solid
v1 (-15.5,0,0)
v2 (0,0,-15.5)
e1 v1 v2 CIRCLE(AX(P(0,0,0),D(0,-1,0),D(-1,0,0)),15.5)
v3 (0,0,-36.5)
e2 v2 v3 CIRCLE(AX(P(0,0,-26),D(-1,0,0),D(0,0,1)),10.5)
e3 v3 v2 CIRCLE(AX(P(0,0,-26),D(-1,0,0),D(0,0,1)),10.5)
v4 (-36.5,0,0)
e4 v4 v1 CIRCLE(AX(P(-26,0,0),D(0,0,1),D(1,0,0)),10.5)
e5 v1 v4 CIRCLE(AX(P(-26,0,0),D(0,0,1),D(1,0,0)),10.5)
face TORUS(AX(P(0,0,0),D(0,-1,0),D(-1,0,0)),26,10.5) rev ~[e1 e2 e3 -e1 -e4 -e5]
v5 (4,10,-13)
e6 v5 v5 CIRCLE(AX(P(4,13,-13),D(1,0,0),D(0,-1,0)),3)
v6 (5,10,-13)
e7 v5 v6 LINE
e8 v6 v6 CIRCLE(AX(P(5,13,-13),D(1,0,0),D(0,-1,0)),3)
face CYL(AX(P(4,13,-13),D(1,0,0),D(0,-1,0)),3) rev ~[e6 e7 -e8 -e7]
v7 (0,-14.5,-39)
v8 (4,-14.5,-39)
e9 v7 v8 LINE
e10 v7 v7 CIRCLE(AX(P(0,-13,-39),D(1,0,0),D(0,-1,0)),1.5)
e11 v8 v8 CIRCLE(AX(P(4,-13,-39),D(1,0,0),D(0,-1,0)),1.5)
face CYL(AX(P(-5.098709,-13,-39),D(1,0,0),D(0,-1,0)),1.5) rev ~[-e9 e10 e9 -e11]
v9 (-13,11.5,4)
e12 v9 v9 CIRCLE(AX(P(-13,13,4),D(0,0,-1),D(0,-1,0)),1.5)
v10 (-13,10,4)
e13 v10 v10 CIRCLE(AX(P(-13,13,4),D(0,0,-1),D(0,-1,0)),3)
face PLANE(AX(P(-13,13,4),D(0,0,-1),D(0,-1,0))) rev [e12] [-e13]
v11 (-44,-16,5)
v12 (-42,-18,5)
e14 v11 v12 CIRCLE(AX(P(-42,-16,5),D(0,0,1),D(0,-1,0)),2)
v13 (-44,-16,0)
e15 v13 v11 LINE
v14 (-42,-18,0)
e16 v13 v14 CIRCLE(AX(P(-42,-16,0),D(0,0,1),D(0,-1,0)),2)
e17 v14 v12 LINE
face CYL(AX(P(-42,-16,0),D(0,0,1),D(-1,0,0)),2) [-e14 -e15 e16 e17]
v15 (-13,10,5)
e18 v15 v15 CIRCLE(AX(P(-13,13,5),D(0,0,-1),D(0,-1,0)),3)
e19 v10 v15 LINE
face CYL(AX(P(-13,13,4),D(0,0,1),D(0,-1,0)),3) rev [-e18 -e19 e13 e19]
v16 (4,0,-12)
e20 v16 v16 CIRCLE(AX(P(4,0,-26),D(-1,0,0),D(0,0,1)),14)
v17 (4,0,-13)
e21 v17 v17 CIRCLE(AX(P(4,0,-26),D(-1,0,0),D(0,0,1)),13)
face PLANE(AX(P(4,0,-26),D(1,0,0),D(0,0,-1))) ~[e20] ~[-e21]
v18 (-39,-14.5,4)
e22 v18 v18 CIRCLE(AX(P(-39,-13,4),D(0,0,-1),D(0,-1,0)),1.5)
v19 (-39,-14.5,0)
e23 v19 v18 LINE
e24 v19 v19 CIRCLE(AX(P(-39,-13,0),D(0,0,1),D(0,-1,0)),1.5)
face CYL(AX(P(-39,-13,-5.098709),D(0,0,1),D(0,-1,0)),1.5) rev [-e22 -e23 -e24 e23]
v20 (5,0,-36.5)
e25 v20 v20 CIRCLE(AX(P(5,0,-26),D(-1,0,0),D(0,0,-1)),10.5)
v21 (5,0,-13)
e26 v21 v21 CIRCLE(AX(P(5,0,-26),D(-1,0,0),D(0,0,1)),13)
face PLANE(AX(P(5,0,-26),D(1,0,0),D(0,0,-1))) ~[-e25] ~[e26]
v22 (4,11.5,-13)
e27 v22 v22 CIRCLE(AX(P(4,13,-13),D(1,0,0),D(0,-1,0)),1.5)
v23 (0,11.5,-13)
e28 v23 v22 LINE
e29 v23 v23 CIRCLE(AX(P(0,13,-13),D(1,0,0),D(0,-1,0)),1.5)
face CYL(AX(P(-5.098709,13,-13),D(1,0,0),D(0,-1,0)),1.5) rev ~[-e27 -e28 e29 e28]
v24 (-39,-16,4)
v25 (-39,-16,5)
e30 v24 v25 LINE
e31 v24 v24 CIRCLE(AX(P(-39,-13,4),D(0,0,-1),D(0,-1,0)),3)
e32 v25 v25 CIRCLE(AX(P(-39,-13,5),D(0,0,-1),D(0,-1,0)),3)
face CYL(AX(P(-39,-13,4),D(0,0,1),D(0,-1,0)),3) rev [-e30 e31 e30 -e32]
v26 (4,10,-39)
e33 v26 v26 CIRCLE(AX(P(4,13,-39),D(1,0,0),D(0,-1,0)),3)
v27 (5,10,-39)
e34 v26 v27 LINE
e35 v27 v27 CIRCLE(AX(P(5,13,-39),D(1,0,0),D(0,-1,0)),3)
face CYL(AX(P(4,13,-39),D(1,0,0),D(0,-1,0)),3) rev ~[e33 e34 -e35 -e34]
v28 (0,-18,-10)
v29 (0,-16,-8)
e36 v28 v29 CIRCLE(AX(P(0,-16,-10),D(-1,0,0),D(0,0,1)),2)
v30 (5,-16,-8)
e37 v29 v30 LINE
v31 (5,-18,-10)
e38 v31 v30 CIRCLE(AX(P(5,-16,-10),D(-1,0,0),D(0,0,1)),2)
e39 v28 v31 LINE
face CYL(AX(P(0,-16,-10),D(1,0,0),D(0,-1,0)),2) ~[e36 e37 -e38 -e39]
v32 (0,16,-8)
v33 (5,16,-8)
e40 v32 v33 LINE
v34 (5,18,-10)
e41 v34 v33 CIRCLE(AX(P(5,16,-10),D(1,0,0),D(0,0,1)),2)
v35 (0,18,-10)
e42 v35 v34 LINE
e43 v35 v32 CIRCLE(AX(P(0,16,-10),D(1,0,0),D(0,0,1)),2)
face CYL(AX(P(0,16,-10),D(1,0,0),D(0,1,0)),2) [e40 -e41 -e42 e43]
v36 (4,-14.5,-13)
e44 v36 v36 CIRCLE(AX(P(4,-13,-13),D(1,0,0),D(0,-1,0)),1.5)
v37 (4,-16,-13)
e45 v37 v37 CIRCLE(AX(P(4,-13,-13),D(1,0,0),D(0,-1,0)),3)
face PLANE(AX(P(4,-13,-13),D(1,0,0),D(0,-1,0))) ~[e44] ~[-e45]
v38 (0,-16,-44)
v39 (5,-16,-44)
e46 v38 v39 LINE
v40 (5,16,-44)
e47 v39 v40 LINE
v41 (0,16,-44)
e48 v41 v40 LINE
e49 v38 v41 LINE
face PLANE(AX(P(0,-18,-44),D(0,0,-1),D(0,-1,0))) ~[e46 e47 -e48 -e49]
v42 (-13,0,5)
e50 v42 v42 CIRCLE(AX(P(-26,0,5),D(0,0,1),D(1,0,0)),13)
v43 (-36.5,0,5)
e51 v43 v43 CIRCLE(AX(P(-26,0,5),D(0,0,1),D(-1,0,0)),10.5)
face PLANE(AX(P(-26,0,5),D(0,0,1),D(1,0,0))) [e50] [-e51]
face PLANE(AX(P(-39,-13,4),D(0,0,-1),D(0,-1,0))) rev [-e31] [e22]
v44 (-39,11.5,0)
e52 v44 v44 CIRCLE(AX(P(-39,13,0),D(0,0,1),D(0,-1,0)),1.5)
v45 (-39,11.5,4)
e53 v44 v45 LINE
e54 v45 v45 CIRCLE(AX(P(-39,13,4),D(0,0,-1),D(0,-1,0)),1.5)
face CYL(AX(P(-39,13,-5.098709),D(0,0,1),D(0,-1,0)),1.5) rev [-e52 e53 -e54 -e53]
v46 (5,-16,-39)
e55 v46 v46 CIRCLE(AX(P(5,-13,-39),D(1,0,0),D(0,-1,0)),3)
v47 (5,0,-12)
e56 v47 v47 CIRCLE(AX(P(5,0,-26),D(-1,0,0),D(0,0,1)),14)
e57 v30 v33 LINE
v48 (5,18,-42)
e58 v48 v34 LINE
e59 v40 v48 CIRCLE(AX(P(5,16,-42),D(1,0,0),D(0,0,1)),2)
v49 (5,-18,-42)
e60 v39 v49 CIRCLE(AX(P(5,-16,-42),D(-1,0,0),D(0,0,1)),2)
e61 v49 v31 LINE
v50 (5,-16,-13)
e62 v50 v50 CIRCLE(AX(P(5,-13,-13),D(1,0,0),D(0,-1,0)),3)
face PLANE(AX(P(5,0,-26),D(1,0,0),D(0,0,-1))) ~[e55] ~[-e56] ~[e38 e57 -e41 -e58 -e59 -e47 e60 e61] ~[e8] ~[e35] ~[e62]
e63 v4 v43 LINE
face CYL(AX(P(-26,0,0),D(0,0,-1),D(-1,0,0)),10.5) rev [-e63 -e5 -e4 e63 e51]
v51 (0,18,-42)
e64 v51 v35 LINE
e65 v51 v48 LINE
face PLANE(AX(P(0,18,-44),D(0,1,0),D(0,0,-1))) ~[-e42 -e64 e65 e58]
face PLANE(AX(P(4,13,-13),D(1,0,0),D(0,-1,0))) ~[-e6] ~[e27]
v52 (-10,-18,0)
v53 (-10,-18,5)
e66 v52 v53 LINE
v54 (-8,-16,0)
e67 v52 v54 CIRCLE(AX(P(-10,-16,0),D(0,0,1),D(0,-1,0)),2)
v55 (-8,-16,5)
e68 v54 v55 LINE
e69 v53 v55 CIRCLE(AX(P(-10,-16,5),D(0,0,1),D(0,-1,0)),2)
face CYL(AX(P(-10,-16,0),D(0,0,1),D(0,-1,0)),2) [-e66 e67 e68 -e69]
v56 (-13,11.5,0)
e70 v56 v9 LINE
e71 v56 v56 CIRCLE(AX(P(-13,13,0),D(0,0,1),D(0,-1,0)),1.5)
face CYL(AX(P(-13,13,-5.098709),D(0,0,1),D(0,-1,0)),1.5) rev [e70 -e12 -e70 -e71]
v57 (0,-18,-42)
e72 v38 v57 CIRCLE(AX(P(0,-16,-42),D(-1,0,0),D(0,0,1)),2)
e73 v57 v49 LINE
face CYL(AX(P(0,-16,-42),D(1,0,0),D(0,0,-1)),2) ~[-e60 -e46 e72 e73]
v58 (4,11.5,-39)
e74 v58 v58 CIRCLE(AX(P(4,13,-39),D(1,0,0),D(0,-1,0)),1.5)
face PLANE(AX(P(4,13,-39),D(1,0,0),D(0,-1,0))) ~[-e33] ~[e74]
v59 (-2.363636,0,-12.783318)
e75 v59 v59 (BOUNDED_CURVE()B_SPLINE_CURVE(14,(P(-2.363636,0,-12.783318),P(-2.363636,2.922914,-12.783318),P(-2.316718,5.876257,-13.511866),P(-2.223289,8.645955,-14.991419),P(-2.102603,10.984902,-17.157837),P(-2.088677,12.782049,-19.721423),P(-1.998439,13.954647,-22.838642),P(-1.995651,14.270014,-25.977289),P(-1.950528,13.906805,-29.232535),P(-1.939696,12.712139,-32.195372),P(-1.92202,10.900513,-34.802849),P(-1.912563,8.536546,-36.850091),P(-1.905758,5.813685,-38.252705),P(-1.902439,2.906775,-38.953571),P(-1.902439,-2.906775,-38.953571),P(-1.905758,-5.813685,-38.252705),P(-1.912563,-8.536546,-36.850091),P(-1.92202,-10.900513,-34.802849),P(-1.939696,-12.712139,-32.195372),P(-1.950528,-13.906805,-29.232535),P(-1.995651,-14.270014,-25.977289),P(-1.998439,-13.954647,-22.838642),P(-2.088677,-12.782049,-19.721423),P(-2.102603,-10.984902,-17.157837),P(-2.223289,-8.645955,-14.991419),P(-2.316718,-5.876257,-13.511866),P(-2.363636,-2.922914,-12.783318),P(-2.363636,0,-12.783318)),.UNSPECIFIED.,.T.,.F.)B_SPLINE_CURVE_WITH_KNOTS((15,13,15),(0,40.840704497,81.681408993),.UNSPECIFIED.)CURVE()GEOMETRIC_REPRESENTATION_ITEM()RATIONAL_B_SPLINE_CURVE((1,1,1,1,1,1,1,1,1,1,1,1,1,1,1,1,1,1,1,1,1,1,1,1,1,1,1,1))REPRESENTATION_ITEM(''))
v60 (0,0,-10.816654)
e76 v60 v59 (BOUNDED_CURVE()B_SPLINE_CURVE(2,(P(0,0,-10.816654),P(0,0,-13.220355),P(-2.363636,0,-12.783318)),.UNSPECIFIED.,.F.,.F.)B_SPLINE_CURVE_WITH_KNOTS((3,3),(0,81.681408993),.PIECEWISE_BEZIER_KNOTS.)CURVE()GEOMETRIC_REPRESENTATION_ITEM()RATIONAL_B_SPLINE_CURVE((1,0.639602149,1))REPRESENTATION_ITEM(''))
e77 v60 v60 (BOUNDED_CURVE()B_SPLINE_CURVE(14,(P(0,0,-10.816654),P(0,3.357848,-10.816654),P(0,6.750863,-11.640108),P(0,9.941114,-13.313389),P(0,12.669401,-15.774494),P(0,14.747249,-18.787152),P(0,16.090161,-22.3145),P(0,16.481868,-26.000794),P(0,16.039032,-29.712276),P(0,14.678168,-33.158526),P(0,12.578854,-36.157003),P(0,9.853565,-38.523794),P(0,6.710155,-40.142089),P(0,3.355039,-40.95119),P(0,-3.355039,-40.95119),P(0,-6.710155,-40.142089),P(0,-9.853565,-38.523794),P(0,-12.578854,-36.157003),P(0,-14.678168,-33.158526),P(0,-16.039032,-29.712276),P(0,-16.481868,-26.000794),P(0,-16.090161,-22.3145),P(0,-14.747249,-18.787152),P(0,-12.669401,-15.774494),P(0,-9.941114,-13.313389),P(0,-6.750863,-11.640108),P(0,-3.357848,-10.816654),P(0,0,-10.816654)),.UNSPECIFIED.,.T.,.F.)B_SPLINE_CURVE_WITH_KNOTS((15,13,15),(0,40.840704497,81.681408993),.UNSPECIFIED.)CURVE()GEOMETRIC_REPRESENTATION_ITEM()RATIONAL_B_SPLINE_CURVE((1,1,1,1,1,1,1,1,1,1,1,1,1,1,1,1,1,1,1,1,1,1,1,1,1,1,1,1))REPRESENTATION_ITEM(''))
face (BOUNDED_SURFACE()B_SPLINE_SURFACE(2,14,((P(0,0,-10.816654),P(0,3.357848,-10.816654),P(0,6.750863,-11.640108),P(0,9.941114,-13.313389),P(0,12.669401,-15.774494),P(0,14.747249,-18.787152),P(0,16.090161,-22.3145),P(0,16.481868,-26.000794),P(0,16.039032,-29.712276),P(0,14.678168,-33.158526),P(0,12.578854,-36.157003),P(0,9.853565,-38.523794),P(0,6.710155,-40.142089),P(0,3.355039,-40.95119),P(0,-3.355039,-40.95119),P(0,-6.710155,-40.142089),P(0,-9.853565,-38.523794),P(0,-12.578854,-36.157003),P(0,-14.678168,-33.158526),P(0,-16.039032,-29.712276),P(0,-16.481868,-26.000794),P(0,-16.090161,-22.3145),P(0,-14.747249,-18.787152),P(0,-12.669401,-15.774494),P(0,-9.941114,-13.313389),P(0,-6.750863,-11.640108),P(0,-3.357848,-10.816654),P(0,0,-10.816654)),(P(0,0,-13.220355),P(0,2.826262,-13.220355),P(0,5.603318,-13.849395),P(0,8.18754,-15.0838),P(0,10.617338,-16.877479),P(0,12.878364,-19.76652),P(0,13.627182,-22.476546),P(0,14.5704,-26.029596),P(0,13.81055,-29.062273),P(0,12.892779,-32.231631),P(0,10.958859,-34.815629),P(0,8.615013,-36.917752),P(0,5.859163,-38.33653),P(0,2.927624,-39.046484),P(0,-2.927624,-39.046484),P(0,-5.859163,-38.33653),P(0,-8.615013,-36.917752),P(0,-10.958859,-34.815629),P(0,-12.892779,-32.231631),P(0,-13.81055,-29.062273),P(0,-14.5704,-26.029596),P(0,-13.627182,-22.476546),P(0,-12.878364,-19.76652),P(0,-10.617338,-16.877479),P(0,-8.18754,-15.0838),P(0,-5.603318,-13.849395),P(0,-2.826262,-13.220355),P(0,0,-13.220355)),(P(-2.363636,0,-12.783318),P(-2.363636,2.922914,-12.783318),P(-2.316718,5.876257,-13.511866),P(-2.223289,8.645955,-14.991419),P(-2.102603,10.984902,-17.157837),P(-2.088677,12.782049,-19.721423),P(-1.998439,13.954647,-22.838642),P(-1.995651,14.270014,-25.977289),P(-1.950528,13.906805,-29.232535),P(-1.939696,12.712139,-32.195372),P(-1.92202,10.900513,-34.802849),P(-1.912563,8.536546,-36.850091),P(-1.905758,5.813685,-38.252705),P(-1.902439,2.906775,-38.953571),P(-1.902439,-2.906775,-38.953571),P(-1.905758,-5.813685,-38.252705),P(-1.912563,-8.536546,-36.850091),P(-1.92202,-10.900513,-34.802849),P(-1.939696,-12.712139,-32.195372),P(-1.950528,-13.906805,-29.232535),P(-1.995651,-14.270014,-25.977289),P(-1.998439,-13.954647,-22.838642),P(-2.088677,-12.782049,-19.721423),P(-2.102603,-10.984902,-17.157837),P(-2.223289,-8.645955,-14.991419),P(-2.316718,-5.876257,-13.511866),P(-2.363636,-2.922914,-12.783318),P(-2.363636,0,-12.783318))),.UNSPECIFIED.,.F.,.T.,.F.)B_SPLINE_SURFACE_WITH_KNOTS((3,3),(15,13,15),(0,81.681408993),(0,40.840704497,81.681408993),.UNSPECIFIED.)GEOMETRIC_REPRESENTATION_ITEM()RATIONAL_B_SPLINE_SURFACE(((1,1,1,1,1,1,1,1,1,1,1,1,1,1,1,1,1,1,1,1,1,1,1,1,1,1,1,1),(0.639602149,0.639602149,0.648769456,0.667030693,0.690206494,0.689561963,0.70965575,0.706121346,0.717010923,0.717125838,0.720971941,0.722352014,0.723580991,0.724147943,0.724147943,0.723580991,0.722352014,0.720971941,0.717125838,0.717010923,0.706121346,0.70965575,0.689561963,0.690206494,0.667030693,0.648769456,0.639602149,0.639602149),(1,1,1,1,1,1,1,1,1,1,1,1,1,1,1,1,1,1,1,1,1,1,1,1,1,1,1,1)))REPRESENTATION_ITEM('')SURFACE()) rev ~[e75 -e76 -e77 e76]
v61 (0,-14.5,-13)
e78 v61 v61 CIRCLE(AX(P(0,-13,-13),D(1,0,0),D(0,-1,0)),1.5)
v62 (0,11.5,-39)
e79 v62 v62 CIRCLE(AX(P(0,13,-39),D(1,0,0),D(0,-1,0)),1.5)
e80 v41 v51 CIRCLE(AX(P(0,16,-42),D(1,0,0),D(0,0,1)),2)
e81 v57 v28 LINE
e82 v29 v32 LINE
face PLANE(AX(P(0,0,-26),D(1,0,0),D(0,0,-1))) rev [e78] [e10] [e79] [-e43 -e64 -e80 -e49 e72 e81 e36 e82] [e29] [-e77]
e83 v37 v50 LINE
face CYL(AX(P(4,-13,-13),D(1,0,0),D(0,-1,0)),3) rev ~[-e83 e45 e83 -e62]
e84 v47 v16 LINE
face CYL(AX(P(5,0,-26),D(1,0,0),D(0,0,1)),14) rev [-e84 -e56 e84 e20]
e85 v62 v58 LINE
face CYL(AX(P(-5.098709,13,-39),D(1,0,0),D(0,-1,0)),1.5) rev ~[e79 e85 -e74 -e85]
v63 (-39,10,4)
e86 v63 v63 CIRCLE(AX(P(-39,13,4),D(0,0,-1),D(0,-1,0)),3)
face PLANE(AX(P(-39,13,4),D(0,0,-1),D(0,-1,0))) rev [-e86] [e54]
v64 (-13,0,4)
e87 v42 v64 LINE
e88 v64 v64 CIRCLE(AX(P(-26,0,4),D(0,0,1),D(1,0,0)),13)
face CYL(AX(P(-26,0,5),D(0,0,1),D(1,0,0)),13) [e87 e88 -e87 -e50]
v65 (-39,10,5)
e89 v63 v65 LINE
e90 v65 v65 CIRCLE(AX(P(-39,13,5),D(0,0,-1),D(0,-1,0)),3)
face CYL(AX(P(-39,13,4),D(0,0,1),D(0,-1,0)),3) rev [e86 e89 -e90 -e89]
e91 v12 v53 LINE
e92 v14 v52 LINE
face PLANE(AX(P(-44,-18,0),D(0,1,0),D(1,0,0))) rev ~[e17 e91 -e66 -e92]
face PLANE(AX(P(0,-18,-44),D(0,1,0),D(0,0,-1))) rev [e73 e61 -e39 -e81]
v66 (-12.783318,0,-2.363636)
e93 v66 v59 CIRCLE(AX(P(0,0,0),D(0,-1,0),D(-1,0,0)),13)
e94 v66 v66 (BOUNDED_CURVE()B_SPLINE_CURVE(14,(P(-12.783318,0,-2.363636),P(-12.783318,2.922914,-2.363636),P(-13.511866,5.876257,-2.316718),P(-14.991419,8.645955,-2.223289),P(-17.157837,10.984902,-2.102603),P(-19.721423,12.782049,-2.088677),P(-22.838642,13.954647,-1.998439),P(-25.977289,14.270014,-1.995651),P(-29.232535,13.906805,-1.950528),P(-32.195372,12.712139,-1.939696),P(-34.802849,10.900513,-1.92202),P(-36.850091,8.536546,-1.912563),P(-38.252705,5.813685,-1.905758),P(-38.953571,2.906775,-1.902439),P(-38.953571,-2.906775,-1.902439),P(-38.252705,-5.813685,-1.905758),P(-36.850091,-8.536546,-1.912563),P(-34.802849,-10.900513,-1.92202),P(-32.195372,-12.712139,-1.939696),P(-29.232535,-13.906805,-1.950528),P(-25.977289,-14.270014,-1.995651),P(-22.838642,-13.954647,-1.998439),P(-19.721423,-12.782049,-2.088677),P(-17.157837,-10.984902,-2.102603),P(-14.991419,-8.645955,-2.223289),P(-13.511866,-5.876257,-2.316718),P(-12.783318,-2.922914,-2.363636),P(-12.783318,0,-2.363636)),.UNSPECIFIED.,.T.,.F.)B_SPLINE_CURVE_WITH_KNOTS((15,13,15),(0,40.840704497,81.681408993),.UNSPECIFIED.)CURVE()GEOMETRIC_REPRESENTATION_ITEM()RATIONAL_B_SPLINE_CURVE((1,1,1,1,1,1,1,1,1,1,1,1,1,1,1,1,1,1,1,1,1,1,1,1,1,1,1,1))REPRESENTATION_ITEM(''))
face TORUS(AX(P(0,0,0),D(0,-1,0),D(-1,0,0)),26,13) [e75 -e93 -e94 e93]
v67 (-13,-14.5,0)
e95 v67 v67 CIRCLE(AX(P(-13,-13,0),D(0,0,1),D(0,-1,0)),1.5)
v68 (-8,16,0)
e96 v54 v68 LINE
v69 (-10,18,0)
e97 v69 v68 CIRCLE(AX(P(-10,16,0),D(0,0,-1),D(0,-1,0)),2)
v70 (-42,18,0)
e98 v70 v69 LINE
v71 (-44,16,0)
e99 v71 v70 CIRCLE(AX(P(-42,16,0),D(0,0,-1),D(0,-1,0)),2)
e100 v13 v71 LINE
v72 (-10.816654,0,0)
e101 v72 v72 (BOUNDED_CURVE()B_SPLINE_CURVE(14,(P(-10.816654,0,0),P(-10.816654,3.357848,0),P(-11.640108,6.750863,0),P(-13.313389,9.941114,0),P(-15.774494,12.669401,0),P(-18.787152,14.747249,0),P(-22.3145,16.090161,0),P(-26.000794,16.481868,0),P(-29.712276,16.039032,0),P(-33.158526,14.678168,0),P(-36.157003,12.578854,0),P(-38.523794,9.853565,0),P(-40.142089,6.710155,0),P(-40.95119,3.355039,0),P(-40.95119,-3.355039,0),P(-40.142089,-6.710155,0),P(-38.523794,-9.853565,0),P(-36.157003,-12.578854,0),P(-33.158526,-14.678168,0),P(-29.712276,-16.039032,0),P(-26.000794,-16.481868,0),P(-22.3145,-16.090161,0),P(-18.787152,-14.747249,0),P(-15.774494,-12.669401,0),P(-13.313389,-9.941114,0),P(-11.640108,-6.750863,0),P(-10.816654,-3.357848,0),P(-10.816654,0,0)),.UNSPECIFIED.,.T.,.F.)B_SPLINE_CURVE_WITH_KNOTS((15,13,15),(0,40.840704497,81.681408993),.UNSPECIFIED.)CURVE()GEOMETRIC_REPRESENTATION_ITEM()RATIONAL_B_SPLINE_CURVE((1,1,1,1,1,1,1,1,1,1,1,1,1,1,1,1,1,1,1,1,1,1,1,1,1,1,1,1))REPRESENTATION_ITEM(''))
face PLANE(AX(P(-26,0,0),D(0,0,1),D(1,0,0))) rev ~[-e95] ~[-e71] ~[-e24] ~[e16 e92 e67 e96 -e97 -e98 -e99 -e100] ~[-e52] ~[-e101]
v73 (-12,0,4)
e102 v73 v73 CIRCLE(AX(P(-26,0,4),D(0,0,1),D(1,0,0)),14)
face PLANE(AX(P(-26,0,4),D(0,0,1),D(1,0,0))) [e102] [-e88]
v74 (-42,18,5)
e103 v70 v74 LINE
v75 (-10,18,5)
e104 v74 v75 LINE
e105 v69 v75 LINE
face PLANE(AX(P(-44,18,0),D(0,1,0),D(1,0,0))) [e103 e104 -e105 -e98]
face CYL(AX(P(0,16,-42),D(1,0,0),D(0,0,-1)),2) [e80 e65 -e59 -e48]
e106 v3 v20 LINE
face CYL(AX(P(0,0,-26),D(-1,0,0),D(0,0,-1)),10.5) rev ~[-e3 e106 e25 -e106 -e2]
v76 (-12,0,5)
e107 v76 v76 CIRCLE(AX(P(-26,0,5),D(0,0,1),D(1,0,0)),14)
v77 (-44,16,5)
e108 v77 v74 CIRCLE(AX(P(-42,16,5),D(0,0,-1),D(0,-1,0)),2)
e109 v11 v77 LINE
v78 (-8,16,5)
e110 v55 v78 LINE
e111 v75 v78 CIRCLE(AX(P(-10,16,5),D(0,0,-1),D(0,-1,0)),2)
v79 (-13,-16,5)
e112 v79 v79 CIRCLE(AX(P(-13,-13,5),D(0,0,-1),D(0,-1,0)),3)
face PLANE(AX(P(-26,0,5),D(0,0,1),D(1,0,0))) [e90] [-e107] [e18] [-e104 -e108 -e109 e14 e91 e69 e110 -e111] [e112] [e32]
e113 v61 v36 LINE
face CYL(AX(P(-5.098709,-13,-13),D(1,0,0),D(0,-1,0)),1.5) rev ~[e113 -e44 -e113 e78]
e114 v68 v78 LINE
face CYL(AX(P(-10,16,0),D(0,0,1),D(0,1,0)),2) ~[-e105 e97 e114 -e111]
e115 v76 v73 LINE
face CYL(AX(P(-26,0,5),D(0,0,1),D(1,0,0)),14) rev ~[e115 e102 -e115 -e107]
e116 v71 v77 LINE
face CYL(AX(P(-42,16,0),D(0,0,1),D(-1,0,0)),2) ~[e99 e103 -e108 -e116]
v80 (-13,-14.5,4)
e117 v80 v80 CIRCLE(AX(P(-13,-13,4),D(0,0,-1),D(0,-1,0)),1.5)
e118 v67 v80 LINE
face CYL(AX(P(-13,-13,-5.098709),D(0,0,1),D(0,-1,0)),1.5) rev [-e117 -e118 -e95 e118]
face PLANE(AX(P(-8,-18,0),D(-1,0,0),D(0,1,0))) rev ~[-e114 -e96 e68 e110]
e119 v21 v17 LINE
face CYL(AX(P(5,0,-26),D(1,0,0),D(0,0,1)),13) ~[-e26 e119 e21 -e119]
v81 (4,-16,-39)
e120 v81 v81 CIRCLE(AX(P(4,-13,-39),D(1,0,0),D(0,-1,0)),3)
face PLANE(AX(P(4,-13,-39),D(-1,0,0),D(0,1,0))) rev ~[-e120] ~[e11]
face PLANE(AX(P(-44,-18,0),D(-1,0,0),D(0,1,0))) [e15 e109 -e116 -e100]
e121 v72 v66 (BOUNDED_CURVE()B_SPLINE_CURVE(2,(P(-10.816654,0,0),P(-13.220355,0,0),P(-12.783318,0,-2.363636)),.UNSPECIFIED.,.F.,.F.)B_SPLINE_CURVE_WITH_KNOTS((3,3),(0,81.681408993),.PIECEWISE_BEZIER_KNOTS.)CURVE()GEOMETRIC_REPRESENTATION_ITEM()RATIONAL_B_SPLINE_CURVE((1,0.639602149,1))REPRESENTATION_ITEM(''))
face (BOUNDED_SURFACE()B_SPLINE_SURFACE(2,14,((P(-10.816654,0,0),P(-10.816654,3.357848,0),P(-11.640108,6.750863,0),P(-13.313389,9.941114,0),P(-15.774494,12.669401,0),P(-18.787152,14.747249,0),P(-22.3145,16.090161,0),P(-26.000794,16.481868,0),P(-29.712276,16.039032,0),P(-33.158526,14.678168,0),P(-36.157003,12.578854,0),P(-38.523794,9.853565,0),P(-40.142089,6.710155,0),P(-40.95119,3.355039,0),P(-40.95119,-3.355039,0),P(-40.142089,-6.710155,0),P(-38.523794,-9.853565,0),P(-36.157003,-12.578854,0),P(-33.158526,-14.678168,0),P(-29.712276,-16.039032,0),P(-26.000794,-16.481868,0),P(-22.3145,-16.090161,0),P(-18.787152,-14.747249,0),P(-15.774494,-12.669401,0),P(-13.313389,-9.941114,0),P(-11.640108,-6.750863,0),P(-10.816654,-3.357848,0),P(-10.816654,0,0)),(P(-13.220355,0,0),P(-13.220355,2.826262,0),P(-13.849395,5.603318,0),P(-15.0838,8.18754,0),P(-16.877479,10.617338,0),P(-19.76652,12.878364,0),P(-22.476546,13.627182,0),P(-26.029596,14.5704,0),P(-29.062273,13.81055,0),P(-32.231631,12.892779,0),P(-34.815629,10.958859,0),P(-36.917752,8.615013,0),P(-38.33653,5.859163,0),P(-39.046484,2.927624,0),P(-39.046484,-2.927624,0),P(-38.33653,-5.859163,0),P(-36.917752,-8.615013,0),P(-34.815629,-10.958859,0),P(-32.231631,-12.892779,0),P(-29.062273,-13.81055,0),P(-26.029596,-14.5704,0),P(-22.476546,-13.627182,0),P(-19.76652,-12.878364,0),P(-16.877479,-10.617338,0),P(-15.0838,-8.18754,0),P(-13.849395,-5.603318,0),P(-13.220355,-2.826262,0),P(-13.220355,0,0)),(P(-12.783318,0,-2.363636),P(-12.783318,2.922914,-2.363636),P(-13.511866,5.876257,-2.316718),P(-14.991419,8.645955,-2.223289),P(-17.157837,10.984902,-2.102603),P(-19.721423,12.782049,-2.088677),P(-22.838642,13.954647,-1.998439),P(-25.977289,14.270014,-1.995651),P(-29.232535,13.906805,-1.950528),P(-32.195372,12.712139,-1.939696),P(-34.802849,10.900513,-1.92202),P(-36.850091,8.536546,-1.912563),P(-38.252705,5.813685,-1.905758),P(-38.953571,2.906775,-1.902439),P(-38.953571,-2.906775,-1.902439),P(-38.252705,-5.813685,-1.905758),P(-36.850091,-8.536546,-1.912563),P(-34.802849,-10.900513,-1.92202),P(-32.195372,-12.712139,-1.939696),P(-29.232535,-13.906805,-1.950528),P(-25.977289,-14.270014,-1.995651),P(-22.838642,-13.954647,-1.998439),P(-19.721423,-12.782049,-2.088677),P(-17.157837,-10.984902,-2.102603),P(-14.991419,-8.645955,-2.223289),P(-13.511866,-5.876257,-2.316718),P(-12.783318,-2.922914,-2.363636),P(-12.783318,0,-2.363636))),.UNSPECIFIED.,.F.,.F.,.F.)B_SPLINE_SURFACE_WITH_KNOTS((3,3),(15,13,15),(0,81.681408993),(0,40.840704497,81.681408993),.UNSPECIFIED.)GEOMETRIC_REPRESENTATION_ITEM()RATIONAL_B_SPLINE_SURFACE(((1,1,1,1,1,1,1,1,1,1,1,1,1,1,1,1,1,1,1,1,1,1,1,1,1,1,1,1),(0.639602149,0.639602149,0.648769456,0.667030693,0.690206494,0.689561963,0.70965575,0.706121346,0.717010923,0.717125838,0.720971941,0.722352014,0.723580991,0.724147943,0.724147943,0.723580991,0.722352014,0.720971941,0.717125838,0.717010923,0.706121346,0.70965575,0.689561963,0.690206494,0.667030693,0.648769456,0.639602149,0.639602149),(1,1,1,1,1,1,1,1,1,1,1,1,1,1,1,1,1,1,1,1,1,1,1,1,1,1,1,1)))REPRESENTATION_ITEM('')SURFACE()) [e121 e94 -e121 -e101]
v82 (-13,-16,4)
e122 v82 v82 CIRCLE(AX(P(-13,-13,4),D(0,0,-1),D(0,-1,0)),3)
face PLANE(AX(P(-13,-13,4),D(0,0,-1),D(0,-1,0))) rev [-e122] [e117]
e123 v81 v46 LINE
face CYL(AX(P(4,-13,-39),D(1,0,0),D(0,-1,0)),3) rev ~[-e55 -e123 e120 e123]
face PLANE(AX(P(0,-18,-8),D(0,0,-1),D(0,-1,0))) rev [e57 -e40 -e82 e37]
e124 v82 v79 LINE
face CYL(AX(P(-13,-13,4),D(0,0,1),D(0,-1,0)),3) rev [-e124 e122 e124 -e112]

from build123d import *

# Parameters (mm, degrees)
SKETCH3_R                              = 13
SKETCH3_R_2                            = 10.5
REVOLVE2_ANGLE                         = 90
SKETCH5_W                              = 36
SKETCH5_H                              = 36
SKETCH5_R                              = 10.5
BOSS_EXTRUDE3_DEPTH                    = 5
SKETCH6_R                              = 14
SKETCH6_R_2                            = 13
CUT_EXTRUDE1_DEPTH                     = 1
FILLET1_R                              = 2
FILLET2_R                              = 2
CBORE_FOR_M5_HEX_HEAD_BOLT1_AT_2_COUNT = 2
CBORE_FOR_M5_HEX_HEAD_BOLT1_AT_2_PITCH = 26
CBORE_FOR_M5_HEX_HEAD_BOLT1_AT_3_COUNT = 2
CBORE_FOR_M5_HEX_HEAD_BOLT1_AT_3_PITCH = 36.769552622
CBORE_FOR_M5_HEX_HEAD_BOLT1_AT_4_COUNT = 2
CBORE_FOR_M5_HEX_HEAD_BOLT1_AT_4_PITCH = 26
FILLET1_OF_MIRROR1_R                   = 2
FILLET2_OF_MIRROR1_R                   = 2


with BuildPart() as part:
    # Sketch3 → Revolve2 (revolve)
    with BuildSketch(Plane.XY):
        with Locations((-26, 0)):
            Circle(SKETCH3_R)
        with Locations((-26, 0)):
            Circle(SKETCH3_R_2, mode=Mode.SUBTRACT)
    revolve(axis=Axis((0, 20.536946156, 0), (0, -1, 0)), revolution_arc=REVOLVE2_ANGLE)

    # Sketch5 → Boss-Extrude3 (add)
    with BuildSketch(Plane.XY):
        with Locations((-26, 0)):
            Rectangle(SKETCH5_W, SKETCH5_H)
        with Locations(Location((-26, 0, 0), (0, 0, 180))):
            Circle(SKETCH5_R, mode=Mode.SUBTRACT)
    boss_extrude3 = extrude(amount=BOSS_EXTRUDE3_DEPTH)

    # Sketch6 → Cut-Extrude1 (cut)
    with BuildSketch(Plane.XY.offset(5)):
        with Locations((-26, 0)):
            Circle(SKETCH6_R)
        with Locations((-26, 0)):
            Circle(SKETCH6_R_2, mode=Mode.SUBTRACT)
    cut_extrude1 = extrude(amount=-CUT_EXTRUDE1_DEPTH, mode=Mode.SUBTRACT)

    # Fillet1
    fillet1_edges = [part.edges().sort_by_distance(p)[0] for p in [
        (-44, 18, 2.5),
        (-44, -18, 2.5),
        (-8, -18, 2.5),
        (-8, 18, 2.5),
    ]]
    fillet(fillet1_edges, radius=FILLET1_R)

    # Fillet2
    fillet2_edges = [part.edges().sort_by_distance(p)[0] for p in [
        (-39, 0, 0),
    ]]
    fillet(fillet2_edges, radius=FILLET2_R)

    # Sketch8 → CBORE for M5 Hex Head Bolt1 (revolve, cut)
    with BuildSketch(Plane(origin=(-39, -13, 5), x_dir=(0, -1, 0), z_dir=(1, 0, 0))):
        Polygon((0, 0), (0, 11), (1.5, 10.098709071), (1.5, 1), (3, 1), (3, 0), align=None)
    cbore_for_m5_hex_head_bolt1 = revolve(axis=Axis((-39, -13, 11.35), (0, 0, -1)), mode=Mode.SUBTRACT)

    # CBORE for M5 Hex Head Bolt1 at 2: CBORE for M5 Hex Head Bolt1 ×2
    with Locations(*[(0, i * CBORE_FOR_M5_HEX_HEAD_BOLT1_AT_2_PITCH, 0) for i in range(1, CBORE_FOR_M5_HEX_HEAD_BOLT1_AT_2_COUNT)]):
        add(cbore_for_m5_hex_head_bolt1, mode=Mode.SUBTRACT)

    # CBORE for M5 Hex Head Bolt1 at 3: CBORE for M5 Hex Head Bolt1 ×2
    with Locations(*[Vector(0.7071067811865476, 0.7071067811865476, 0) * (i * CBORE_FOR_M5_HEX_HEAD_BOLT1_AT_3_PITCH) for i in range(1, CBORE_FOR_M5_HEX_HEAD_BOLT1_AT_3_COUNT)]):
        add(cbore_for_m5_hex_head_bolt1, mode=Mode.SUBTRACT)

    # CBORE for M5 Hex Head Bolt1 at 4: CBORE for M5 Hex Head Bolt1 ×2
    with Locations(*[(i * CBORE_FOR_M5_HEX_HEAD_BOLT1_AT_4_PITCH, 0, 0) for i in range(1, CBORE_FOR_M5_HEX_HEAD_BOLT1_AT_4_COUNT)]):
        add(cbore_for_m5_hex_head_bolt1, mode=Mode.SUBTRACT)

    # Mirror1: Boss-Extrude3, Cut-Extrude1, CBORE for M5 Hex Head Bolt1 across plane
    add(boss_extrude3.mirror(Plane(origin=(0, 0, 0), x_dir=(0.7071067811865464, 0, 0.7071067811865487), z_dir=(-0.7071067811865489, 0, 0.7071067811865462))))
    add(cut_extrude1.mirror(Plane(origin=(0, 0, 0), x_dir=(0.7071067811865464, 0, 0.7071067811865487), z_dir=(-0.7071067811865489, 0, 0.7071067811865462))), mode=Mode.SUBTRACT)
    add(cbore_for_m5_hex_head_bolt1.mirror(Plane(origin=(0, 0, 0), x_dir=(0.7071067811865464, 0, 0.7071067811865487), z_dir=(-0.7071067811865489, 0, 0.7071067811865462))), mode=Mode.SUBTRACT)

    # Mirror1 copy 1 sketch → Mirror1 copy 1 (revolve, cut)
    with BuildSketch(Plane(origin=(5, 13, -39), x_dir=(0, -1, 0), z_dir=(0, 0, 1))):
        Polygon((0, 0), (0, -11), (1.5, -10.098709071), (1.5, -1), (3, -1), (3, 0), align=None)
    revolve(axis=Axis((11.35, 13, -39), (1, 0, 0)), mode=Mode.SUBTRACT)

    # Mirror1 copy 2 sketch → Mirror1 copy 2 (revolve, cut)
    with BuildSketch(Plane(origin=(5, 13, -13), x_dir=(0, -1, 0), z_dir=(0, 0, 1))):
        Polygon((0, 0), (0, -11), (1.5, -10.098709071), (1.5, -1), (3, -1), (3, 0), align=None)
    revolve(axis=Axis((11.35, 13, -13), (1, 0, 0)), mode=Mode.SUBTRACT)

    # Mirror1 copy 3 sketch → Mirror1 copy 3 (revolve, cut)
    with BuildSketch(Plane(origin=(5, -13, -13), x_dir=(0, -1, 0), z_dir=(0, 0, 1))):
        Polygon((0, 0), (0, -11), (1.5, -10.098709071), (1.5, -1), (3, -1), (3, 0), align=None)
    revolve(axis=Axis((11.35, -13, -13), (1, 0, 0)), mode=Mode.SUBTRACT)

    # Fillet1 of Mirror1
    fillet1_of_mirror1_edges = [part.edges().sort_by_distance(p)[0] for p in [
        (2.5, 18, -44),
        (2.5, -18, -44),
        (2.5, -18, -8),
        (2.5, 18, -8),
    ]]
    fillet(fillet1_of_mirror1_edges, radius=FILLET1_OF_MIRROR1_R)

    # Fillet2 of Mirror1
    fillet2_of_mirror1_edges = [part.edges().sort_by_distance(p)[0] for p in [
        (0, 0, -39),
    ]]
    fillet(fillet2_of_mirror1_edges, radius=FILLET2_OF_MIRROR1_R)


solid = part.part
